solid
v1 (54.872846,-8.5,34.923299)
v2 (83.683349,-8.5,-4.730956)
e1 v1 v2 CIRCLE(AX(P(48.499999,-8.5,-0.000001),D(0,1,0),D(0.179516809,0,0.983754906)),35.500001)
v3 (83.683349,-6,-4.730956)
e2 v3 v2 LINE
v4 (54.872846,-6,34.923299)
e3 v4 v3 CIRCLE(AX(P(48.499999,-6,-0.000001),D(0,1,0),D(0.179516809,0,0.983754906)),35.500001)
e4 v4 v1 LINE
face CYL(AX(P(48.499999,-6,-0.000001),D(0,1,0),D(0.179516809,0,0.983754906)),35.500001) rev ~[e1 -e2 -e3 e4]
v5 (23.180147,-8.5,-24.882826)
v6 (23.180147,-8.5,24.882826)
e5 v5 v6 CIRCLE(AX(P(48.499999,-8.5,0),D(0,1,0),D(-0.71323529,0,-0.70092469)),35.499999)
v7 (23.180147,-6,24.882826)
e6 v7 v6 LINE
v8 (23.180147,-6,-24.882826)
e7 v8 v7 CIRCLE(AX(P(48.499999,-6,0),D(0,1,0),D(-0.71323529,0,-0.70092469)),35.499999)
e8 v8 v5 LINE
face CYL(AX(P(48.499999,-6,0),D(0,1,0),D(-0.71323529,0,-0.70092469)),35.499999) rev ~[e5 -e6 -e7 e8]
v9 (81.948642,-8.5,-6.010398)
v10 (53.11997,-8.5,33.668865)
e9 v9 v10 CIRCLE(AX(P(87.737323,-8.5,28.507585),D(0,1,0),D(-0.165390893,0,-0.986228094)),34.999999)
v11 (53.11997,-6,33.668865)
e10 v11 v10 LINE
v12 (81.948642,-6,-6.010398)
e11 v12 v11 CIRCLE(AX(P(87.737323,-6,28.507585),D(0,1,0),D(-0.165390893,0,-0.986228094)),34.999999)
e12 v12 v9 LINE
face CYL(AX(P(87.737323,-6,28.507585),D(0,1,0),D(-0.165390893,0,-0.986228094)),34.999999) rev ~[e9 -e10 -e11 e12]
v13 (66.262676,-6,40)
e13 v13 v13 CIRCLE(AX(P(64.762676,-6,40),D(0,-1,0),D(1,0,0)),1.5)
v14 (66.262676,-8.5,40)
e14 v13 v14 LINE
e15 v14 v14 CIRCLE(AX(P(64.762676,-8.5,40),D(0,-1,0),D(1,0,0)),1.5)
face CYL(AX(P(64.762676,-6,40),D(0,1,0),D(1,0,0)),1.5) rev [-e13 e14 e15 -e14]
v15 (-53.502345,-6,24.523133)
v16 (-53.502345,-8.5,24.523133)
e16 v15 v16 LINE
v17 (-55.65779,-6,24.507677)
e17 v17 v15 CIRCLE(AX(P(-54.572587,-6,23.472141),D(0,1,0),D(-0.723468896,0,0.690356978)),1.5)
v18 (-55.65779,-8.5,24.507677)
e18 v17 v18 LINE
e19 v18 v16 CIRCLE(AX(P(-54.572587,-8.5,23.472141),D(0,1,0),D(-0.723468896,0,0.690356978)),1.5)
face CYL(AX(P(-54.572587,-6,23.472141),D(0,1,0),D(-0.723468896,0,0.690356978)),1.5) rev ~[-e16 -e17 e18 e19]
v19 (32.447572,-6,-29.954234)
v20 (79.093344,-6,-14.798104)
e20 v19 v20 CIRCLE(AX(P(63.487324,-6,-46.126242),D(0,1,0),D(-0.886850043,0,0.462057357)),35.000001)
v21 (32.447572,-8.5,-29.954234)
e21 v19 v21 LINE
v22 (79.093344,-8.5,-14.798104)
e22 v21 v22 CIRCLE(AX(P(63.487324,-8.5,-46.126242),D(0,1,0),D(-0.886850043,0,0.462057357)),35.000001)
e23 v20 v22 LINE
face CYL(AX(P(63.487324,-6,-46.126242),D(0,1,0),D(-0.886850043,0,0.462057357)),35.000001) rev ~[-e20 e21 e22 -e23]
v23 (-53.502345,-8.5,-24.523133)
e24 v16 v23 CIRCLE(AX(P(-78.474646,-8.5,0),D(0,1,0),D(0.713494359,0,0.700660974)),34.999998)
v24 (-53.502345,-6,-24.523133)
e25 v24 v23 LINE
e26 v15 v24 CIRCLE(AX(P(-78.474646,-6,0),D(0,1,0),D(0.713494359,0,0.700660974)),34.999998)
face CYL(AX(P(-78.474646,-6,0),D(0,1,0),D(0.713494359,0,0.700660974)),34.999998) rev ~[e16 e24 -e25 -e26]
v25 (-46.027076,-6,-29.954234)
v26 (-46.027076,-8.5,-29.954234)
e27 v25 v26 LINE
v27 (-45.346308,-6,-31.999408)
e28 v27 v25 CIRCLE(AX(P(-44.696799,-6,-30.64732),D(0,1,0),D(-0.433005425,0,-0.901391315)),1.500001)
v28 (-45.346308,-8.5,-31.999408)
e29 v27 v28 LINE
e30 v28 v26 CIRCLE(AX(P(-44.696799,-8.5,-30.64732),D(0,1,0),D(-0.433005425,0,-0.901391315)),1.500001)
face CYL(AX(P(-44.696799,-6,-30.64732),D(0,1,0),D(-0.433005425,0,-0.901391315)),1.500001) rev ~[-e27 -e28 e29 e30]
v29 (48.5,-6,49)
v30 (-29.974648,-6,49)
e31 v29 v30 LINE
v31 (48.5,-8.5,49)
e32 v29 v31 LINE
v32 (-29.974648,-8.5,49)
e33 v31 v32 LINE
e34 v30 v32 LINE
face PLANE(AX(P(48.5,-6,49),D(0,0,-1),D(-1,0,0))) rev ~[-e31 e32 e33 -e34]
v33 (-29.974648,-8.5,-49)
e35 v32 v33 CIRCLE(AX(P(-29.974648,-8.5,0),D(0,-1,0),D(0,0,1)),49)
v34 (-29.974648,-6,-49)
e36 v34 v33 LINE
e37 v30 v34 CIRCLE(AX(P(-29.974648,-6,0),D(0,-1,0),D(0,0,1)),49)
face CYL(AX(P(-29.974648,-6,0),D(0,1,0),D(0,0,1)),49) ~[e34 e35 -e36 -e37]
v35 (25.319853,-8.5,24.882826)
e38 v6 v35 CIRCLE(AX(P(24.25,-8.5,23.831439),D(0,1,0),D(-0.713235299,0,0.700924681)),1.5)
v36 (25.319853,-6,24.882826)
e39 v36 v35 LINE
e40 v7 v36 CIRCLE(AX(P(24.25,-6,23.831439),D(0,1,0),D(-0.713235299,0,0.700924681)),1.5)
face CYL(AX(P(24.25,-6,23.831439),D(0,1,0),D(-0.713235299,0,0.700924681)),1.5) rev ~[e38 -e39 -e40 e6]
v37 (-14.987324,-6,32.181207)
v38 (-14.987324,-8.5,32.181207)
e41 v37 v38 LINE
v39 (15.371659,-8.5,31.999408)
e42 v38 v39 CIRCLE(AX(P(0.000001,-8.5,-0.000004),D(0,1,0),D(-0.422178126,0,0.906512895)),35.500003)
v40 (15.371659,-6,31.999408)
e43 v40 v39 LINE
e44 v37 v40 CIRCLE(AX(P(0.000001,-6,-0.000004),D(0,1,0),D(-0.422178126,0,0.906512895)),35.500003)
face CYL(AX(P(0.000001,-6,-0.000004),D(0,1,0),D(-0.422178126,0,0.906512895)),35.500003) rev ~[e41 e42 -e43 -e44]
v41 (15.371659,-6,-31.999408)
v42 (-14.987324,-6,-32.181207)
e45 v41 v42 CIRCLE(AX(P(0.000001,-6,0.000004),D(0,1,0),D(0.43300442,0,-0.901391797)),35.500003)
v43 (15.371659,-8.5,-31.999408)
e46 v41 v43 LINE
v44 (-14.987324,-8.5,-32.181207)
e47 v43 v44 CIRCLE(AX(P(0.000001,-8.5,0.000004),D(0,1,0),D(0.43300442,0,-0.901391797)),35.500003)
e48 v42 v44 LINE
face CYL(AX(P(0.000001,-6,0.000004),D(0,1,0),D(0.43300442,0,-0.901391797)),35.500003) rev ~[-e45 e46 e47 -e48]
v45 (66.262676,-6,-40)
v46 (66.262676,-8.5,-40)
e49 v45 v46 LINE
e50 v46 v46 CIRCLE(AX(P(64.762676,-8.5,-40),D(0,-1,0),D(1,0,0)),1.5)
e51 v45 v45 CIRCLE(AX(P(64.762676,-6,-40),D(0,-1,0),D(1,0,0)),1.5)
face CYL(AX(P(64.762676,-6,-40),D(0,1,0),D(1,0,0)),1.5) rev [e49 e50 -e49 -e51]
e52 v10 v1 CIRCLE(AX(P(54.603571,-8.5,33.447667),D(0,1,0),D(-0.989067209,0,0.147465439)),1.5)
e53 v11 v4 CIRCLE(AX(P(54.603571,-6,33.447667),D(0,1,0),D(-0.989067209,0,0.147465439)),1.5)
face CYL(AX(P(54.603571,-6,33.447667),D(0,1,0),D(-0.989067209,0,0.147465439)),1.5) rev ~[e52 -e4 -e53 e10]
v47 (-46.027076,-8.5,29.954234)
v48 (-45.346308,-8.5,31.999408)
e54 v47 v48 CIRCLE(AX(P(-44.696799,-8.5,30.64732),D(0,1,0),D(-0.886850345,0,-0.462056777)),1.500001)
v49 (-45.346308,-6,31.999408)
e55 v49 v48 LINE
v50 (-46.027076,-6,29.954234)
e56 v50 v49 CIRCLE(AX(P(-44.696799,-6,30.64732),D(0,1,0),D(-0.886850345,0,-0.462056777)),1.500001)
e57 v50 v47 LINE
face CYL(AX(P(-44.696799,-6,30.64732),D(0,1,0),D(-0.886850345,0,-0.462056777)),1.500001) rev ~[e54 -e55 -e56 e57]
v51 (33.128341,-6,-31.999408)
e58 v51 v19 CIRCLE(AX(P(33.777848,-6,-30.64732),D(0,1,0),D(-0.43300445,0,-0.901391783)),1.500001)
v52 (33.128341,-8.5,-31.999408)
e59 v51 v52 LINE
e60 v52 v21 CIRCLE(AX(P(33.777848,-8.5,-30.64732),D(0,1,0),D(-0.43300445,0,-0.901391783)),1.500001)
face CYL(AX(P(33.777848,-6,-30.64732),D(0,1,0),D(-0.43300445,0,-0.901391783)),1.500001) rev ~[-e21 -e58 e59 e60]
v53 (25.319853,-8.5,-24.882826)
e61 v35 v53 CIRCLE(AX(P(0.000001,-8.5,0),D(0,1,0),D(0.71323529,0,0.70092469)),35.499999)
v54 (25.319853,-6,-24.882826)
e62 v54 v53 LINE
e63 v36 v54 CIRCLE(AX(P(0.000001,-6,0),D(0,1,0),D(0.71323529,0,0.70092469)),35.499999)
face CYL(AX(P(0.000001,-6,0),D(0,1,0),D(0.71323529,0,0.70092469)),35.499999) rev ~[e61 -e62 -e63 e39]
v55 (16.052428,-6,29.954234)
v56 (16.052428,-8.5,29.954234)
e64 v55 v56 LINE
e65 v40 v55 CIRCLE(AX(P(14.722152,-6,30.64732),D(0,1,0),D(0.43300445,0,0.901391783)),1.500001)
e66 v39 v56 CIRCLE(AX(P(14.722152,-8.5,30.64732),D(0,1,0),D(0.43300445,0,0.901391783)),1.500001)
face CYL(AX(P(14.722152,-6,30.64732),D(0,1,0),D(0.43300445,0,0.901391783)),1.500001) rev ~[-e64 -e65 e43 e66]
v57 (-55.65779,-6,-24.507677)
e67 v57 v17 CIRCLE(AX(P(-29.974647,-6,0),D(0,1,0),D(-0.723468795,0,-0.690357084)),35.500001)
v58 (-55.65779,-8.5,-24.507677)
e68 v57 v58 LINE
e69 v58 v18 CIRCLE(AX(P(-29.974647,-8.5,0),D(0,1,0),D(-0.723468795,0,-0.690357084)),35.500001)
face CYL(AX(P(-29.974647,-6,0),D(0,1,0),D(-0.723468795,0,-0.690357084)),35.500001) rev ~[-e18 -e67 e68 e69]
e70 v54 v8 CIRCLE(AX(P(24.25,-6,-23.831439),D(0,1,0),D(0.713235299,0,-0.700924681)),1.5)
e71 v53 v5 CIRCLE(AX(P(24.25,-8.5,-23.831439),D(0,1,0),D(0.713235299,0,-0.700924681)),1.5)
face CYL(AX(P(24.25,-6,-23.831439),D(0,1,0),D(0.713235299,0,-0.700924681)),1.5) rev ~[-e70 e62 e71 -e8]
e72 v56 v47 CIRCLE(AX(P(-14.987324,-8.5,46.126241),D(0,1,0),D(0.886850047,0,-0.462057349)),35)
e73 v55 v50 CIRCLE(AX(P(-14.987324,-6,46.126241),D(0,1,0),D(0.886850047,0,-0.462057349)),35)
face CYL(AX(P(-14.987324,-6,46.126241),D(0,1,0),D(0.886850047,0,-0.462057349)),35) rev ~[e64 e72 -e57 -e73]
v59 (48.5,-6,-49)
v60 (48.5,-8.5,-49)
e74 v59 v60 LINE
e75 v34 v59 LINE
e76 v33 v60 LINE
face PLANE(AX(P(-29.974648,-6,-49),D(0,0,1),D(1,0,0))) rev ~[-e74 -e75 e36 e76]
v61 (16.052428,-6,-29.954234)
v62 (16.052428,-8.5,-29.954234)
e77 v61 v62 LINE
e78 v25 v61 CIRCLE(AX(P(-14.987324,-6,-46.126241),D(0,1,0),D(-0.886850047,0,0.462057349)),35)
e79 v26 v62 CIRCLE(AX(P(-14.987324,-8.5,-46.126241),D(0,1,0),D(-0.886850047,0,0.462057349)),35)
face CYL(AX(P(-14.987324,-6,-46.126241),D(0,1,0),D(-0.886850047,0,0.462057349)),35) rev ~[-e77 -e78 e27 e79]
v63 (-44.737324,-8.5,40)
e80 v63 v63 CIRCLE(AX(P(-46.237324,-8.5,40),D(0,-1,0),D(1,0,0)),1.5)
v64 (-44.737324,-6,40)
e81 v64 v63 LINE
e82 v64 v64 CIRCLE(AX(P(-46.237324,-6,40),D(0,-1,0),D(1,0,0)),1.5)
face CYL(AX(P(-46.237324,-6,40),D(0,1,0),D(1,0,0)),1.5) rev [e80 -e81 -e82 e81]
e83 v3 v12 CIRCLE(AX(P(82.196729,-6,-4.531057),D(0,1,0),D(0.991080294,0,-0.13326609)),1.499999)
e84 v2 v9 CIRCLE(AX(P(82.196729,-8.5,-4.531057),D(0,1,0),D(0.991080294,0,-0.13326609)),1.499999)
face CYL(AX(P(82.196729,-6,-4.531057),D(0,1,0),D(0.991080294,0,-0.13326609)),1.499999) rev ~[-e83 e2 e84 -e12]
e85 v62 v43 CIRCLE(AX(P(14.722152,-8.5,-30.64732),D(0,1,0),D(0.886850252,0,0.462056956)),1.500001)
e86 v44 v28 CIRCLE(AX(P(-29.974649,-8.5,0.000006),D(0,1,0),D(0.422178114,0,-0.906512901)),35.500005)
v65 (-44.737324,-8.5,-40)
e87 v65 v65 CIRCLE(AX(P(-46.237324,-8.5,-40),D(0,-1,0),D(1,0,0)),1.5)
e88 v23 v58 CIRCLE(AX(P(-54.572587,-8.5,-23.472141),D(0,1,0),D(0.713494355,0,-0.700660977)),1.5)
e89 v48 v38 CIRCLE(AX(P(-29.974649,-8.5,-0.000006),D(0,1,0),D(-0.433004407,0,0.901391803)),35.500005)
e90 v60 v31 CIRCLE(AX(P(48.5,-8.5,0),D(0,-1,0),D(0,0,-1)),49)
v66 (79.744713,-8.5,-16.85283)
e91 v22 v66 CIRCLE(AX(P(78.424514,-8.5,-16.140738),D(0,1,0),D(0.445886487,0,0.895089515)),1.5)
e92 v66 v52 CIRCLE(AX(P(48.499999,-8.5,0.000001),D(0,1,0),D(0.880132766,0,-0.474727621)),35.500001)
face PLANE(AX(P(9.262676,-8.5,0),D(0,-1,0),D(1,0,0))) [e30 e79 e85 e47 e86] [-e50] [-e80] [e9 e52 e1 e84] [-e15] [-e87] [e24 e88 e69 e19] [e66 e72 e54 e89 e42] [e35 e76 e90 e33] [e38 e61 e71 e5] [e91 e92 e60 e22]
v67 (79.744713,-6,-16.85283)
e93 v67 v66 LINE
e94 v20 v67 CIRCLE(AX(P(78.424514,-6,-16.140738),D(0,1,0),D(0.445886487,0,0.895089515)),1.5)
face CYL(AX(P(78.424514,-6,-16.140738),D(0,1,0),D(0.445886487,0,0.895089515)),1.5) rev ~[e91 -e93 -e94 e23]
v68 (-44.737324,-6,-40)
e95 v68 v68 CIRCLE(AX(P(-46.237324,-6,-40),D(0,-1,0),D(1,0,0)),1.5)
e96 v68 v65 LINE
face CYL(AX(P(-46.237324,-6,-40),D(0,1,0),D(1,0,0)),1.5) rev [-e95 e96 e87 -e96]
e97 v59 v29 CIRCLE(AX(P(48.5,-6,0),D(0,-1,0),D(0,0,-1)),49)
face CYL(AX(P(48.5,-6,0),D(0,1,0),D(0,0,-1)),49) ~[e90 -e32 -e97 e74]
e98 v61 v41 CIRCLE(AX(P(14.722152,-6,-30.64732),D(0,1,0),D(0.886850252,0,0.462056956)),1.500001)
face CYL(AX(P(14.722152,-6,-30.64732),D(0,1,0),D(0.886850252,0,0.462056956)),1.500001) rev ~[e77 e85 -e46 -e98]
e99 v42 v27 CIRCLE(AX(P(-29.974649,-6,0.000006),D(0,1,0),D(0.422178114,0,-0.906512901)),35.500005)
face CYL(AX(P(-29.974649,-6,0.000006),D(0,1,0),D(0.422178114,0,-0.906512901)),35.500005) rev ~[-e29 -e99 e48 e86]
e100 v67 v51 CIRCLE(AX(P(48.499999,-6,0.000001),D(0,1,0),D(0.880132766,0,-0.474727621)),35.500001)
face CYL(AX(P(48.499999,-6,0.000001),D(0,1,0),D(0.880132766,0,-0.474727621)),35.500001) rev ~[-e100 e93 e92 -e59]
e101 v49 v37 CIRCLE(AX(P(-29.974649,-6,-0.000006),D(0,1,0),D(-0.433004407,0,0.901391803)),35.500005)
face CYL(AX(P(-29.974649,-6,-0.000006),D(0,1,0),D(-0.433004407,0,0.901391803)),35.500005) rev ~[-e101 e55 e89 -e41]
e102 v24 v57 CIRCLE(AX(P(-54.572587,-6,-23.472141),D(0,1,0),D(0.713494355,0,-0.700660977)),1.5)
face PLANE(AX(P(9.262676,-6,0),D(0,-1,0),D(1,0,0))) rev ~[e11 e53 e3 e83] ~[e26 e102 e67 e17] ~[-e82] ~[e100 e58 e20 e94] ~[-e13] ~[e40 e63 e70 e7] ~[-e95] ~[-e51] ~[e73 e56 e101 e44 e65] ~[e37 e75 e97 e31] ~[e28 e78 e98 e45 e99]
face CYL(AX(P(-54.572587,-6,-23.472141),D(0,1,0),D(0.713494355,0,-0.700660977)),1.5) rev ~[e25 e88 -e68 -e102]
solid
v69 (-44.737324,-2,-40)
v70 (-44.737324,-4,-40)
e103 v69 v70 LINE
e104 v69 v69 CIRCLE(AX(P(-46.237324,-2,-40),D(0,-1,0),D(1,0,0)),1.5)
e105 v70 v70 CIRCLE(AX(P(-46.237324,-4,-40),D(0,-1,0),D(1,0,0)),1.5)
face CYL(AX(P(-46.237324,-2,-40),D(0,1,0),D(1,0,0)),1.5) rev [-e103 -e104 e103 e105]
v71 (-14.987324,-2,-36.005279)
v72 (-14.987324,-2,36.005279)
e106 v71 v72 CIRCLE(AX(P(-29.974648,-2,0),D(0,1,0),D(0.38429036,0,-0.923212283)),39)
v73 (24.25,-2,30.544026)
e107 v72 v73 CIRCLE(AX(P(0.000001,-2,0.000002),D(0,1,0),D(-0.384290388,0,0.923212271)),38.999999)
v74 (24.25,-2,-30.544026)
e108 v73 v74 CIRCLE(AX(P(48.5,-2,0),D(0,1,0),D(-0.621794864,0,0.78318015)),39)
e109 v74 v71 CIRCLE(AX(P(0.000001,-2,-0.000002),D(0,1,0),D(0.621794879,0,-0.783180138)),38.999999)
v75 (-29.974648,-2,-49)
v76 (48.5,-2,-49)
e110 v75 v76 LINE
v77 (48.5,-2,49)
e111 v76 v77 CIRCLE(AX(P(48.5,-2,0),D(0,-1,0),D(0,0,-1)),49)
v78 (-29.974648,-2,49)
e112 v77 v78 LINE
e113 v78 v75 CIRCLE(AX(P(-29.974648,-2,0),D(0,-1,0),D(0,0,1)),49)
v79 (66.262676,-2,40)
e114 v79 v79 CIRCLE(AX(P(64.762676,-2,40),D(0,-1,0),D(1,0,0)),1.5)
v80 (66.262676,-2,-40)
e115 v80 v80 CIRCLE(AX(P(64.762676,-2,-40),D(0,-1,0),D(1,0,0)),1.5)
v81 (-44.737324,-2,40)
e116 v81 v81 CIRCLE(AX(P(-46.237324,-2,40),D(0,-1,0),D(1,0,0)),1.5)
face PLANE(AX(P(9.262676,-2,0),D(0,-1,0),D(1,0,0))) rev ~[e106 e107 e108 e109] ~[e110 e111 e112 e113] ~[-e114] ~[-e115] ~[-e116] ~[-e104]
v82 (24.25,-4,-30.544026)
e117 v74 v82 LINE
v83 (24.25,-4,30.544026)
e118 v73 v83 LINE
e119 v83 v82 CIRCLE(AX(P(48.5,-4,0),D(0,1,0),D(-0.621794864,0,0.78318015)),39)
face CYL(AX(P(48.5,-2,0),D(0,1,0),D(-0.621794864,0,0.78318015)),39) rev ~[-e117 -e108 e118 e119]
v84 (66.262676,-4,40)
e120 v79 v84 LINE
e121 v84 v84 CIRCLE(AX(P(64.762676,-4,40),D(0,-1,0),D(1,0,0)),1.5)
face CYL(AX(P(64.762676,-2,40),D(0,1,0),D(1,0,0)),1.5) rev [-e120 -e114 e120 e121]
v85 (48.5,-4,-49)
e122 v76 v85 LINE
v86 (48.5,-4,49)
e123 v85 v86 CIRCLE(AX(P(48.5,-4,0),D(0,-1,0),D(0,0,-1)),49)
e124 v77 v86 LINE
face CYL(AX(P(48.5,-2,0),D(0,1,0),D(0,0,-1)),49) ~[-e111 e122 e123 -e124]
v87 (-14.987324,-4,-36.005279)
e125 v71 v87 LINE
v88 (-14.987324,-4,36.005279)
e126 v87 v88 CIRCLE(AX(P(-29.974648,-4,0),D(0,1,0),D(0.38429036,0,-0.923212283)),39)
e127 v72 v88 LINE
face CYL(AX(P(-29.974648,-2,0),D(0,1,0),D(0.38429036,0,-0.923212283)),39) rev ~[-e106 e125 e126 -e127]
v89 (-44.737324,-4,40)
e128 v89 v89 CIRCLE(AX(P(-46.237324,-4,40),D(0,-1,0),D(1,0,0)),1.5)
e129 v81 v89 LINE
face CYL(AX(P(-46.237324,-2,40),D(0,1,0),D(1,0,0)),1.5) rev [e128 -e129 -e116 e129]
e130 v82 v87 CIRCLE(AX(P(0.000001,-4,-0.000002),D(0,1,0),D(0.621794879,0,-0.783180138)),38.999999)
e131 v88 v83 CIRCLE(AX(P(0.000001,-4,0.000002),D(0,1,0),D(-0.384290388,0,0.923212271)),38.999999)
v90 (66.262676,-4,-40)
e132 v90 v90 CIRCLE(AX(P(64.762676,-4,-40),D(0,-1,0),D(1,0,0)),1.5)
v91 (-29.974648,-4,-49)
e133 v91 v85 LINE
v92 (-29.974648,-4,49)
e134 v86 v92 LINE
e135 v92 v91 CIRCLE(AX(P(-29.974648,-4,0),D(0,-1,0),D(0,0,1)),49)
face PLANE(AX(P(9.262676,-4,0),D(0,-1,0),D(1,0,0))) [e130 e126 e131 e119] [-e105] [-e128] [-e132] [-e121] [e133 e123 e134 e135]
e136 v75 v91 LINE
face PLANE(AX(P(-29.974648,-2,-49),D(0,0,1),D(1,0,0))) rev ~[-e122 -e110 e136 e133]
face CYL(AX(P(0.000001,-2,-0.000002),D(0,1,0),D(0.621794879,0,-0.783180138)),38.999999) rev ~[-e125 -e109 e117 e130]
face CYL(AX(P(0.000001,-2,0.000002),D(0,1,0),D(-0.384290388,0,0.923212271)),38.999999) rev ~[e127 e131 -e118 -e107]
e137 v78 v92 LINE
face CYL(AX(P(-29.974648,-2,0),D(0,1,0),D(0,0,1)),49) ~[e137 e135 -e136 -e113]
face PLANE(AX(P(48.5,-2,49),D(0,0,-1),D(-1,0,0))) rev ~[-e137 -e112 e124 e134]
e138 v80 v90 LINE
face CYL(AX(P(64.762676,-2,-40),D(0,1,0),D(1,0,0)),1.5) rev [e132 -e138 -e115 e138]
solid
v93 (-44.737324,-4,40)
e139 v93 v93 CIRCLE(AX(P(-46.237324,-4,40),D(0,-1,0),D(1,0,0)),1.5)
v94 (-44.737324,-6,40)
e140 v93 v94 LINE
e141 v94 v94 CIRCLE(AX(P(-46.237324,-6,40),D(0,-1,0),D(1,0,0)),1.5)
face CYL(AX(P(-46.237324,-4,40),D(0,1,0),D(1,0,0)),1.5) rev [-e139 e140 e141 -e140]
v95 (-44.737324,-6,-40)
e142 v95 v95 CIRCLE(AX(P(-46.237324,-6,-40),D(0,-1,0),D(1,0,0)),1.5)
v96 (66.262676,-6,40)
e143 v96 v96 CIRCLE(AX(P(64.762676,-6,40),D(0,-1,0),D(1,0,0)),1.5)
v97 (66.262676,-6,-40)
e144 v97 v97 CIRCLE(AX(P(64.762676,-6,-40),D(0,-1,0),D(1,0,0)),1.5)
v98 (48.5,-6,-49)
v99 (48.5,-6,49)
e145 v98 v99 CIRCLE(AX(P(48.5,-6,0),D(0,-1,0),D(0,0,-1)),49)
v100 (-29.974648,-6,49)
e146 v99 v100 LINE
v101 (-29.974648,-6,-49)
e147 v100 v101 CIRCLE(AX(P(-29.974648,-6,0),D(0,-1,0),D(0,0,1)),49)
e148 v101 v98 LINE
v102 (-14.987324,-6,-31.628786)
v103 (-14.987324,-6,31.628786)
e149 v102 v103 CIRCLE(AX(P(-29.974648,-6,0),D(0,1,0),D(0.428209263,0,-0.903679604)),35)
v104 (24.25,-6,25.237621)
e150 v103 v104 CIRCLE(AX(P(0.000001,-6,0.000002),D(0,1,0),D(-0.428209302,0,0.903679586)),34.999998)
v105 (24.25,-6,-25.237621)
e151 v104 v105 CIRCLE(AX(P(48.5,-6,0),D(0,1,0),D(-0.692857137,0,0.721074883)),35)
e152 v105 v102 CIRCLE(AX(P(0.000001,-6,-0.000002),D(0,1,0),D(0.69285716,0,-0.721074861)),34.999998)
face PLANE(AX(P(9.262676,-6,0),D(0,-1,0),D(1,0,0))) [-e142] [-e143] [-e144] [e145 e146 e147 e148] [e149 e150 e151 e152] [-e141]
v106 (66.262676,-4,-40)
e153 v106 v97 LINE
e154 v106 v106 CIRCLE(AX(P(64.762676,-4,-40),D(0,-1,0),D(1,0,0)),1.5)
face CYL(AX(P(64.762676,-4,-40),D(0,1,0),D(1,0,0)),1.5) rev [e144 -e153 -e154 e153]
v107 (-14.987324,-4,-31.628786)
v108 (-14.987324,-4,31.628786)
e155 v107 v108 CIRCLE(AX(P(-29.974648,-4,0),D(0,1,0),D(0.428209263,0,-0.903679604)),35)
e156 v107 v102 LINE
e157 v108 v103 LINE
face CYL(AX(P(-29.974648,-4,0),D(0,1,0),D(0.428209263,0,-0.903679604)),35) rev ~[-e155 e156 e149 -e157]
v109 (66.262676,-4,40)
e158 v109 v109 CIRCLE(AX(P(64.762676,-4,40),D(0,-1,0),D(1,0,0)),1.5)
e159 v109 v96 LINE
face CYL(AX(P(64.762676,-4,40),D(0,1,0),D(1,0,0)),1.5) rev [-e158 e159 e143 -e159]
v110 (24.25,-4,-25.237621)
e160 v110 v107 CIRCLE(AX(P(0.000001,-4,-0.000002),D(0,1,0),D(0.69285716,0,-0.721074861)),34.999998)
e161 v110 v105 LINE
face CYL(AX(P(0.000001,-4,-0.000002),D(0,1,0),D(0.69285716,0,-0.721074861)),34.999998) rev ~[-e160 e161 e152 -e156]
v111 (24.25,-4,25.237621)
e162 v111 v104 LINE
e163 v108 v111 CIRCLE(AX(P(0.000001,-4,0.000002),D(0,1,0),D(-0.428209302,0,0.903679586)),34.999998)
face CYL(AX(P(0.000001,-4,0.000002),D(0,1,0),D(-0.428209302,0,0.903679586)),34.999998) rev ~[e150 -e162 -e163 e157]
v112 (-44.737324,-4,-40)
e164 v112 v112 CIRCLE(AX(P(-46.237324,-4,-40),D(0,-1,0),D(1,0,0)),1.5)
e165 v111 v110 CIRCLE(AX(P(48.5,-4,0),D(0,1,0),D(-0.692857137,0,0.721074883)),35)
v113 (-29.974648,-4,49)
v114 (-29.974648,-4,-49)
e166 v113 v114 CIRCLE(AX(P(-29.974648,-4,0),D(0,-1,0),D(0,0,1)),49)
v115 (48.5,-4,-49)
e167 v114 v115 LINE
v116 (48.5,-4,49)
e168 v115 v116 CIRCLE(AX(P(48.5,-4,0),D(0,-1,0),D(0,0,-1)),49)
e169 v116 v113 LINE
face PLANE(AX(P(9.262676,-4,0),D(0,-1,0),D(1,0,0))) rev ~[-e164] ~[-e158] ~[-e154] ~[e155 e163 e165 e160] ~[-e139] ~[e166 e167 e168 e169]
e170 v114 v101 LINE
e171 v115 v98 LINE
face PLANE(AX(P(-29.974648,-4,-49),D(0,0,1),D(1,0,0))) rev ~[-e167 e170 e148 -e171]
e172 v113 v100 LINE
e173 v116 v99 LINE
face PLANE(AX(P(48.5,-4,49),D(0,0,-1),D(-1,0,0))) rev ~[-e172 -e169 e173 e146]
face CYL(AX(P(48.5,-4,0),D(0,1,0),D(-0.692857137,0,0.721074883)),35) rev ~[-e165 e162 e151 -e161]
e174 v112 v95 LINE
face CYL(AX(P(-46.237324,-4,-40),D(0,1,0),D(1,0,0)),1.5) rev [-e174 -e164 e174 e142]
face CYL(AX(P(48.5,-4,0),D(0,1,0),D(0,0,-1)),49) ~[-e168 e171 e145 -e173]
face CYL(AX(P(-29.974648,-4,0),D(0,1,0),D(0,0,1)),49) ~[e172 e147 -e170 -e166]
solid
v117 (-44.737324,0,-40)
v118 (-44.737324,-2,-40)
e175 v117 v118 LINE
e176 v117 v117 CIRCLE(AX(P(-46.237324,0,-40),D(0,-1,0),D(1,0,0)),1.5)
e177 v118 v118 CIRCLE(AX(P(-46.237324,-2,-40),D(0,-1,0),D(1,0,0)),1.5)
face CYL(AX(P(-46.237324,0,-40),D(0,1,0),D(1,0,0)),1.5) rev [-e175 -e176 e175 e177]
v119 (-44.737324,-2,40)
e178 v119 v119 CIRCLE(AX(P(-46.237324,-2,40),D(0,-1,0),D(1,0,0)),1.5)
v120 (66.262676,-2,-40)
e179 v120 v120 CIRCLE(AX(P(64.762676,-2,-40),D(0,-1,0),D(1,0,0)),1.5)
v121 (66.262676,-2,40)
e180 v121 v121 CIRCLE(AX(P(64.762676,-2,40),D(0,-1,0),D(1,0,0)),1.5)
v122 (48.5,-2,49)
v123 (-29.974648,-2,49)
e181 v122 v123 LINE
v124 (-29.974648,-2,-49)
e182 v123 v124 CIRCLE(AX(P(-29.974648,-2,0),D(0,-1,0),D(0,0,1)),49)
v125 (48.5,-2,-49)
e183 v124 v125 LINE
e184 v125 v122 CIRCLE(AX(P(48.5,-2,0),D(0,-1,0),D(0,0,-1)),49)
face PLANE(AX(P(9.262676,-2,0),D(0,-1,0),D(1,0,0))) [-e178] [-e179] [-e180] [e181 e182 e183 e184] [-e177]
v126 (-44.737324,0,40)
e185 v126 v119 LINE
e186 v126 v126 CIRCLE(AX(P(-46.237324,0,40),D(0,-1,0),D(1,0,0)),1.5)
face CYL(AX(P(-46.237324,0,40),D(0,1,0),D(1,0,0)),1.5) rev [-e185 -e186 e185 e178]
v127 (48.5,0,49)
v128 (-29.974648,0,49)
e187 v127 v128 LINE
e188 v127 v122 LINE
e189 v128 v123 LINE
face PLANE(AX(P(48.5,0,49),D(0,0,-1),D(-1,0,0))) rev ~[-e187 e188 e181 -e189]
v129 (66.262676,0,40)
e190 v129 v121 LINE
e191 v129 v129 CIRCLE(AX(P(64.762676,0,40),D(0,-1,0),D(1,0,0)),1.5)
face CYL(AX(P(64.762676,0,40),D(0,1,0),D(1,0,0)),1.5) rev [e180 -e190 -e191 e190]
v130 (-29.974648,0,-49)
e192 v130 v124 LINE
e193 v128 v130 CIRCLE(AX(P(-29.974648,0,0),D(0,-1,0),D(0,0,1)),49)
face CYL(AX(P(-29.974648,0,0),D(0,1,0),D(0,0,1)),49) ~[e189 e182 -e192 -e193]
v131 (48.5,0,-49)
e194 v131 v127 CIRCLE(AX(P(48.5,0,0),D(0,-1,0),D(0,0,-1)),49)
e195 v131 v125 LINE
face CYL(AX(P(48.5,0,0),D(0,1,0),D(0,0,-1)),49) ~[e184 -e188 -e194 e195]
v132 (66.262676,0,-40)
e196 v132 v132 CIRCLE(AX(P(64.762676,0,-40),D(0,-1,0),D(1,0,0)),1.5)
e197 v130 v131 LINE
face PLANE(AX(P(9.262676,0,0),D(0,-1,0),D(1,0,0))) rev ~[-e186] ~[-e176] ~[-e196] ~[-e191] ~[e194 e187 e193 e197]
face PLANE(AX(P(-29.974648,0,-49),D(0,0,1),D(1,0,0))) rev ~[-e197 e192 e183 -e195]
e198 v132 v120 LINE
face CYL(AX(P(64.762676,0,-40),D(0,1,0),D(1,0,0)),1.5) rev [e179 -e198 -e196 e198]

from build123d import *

# Parameters (mm, degrees)
F2_R     = 1.5
F3_DEPTH = 2
F4_R     = 1.5
F5_DEPTH = 2
F6_R     = 1.5
F7_DEPTH = 2
F8_R     = 1.5
F9_DEPTH = 2.5


with BuildPart() as f3:
    # F2 (on Front) → F3 (new body)
    with BuildSketch(Plane.XZ):
        with BuildLine():
            Line((48.5, 49), (-29.974648, 49))
            ThreePointArc((-29.974648, 49), (-78.974648, 0), (-29.974648, -49))
            Line((-29.974648, -49), (48.5, -49))
            ThreePointArc((48.5, -49), (97.5, 0), (48.5, 49))
        make_face()
        with Locations((-46.237324, -40)):
            Circle(F2_R, mode=Mode.SUBTRACT)
        with BuildLine():
            ThreePointArc((24.25, 25.237621), (83.5, 0), (24.25, -25.237621))
            ThreePointArc((24.25, -25.237621), (5.626814, -34.544739), (-14.987324, -31.628786))
            ThreePointArc((-14.987324, -31.628786), (-64.974648, 0), (-14.987324, 31.628786))
            ThreePointArc((-14.987324, 31.628786), (5.626814, 34.544739), (24.25, 25.237621))
        make_face(mode=Mode.SUBTRACT)
        with Locations((64.762676, -40)):
            Circle(F2_R, mode=Mode.SUBTRACT)
        with Locations((-46.237324, 40)):
            Circle(F2_R, mode=Mode.SUBTRACT)
        with Locations((64.762676, 40)):
            Circle(F2_R, mode=Mode.SUBTRACT)
        with BuildLine():
            ThreePointArc((-14.987324, -31.628786), (5.626814, -34.544739), (24.25, -25.237621))
            ThreePointArc((24.25, -25.237621), (83.5, 0), (24.25, 25.237621))
            ThreePointArc((24.25, 25.237621), (5.626814, 34.544739), (-14.987324, 31.628786))
            ThreePointArc((-14.987324, 31.628786), (-64.974648, 0), (-14.987324, -31.628786))
        make_face()
    extrude(amount=F3_DEPTH)


with BuildPart() as f5:
    # F4 (on face) → F5 (new body)
    with BuildSketch(Plane.XZ.offset(2)):
        with BuildLine():
            Line((48.5, 49), (-29.974648, 49))
            ThreePointArc((-29.974648, 49), (-78.974648, 0), (-29.974648, -49))
            Line((-29.974648, -49), (48.5, -49))
            ThreePointArc((48.5, -49), (97.5, 0), (48.5, 49))
        make_face()
        with Locations((-46.237324, -40)):
            Circle(F4_R, mode=Mode.SUBTRACT)
        with Locations((64.762676, -40)):
            Circle(F4_R, mode=Mode.SUBTRACT)
        with BuildLine():
            ThreePointArc((-14.987324, -36.005279), (-68.974648, 0), (-14.987324, 36.005279))
            ThreePointArc((-14.987324, 36.005279), (5.376394, 38.627638), (24.25, 30.544026))
            ThreePointArc((24.25, 30.544026), (87.5, 0), (24.25, -30.544026))
            ThreePointArc((24.25, -30.544026), (5.376394, -38.627638), (-14.987324, -36.005279))
        make_face(mode=Mode.SUBTRACT)
        with Locations((-46.237324, 40)):
            Circle(F4_R, mode=Mode.SUBTRACT)
        with Locations((64.762676, 40)):
            Circle(F4_R, mode=Mode.SUBTRACT)
    extrude(amount=F5_DEPTH)


with BuildPart() as f7:
    # F6 (on face) → F7 (new body)
    with BuildSketch(Plane.XZ.offset(4)):
        with BuildLine():
            Line((48.5, 49), (-29.974648, 49))
            ThreePointArc((-29.974648, 49), (-78.974648, 0), (-29.974648, -49))
            Line((-29.974648, -49), (48.5, -49))
            ThreePointArc((48.5, -49), (97.5, 0), (48.5, 49))
        make_face()
        with Locations((-46.237324, -40)):
            Circle(F6_R, mode=Mode.SUBTRACT)
        with BuildLine():
            ThreePointArc((24.25, 25.237621), (83.5, 0), (24.25, -25.237621))
            ThreePointArc((24.25, -25.237621), (5.626814, -34.544739), (-14.987324, -31.628786))
            ThreePointArc((-14.987324, -31.628786), (-64.974648, 0), (-14.987324, 31.628786))
            ThreePointArc((-14.987324, 31.628786), (5.626814, 34.544739), (24.25, 25.237621))
        make_face(mode=Mode.SUBTRACT)
        with Locations((64.762676, -40)):
            Circle(F6_R, mode=Mode.SUBTRACT)
        with Locations((-46.237324, 40)):
            Circle(F6_R, mode=Mode.SUBTRACT)
        with Locations((64.762676, 40)):
            Circle(F6_R, mode=Mode.SUBTRACT)
    extrude(amount=F7_DEPTH)


with BuildPart() as f9:
    # F8 (on face) → F9 (new body)
    with BuildSketch(Plane.XZ.offset(6)):
        with BuildLine():
            Line((48.5, 49), (-29.974648, 49))
            ThreePointArc((-29.974648, 49), (-78.974648, 0), (-29.974648, -49))
            Line((-29.974648, -49), (48.5, -49))
            ThreePointArc((48.5, -49), (97.5, 0), (48.5, 49))
        make_face()
        with Locations((-46.237324, -40)):
            Circle(F8_R, mode=Mode.SUBTRACT)
        with BuildLine():
            ThreePointArc((-55.65779, 24.507677), (-54.583342, 24.972103), (-53.502345, 24.523133))
            ThreePointArc((-53.502345, 24.523133), (-43.474648, 0), (-53.502345, -24.523133))
            ThreePointArc((-53.502345, -24.523133), (-54.583342, -24.972103), (-55.65779, -24.507677))
            ThreePointArc((-55.65779, -24.507677), (-65.474648, 0), (-55.65779, 24.507677))
        make_face(mode=Mode.SUBTRACT)
        with BuildLine():
            ThreePointArc((15.371659, -31.999408), (0.212582, -35.499363), (-14.987324, -32.181207))
            ThreePointArc((-14.987324, -32.181207), (-30.187231, -35.499363), (-45.346308, -31.999408))
            ThreePointArc((-45.346308, -31.999408), (-46.120025, -31.121063), (-46.027076, -29.954234))
            ThreePointArc((-46.027076, -29.954234), (-14.987324, -11.126241), (16.052428, -29.954234))
            ThreePointArc((16.052428, -29.954234), (16.145377, -31.121063), (15.371659, -31.999408))
        make_face(mode=Mode.SUBTRACT)
        with Locations((64.762676, -40)):
            Circle(F8_R, mode=Mode.SUBTRACT)
        with BuildLine():
            ThreePointArc((23.180147, 24.882826), (24.25, 25.331439), (25.319853, 24.882826))
            ThreePointArc((25.319853, 24.882826), (35.5, 0), (25.319853, -24.882826))
            ThreePointArc((25.319853, -24.882826), (24.25, -25.331439), (23.180147, -24.882826))
            ThreePointArc((23.180147, -24.882826), (13, 0), (23.180147, 24.882826))
        make_face(mode=Mode.SUBTRACT)
        with BuildLine():
            ThreePointArc((79.744713, -16.85283), (59.470103, -33.762506), (33.128341, -31.999408))
            ThreePointArc((33.128341, -31.999408), (32.354623, -31.121063), (32.447572, -29.954234))
            ThreePointArc((32.447572, -29.954234), (52.671729, -12.839263), (79.093344, -14.798104))
            ThreePointArc((79.093344, -14.798104), (79.854386, -15.687454), (79.744713, -16.85283))
        make_face(mode=Mode.SUBTRACT)
        with BuildLine():
            ThreePointArc((-45.346308, 31.999408), (-30.187231, 35.499363), (-14.987324, 32.181207))
            ThreePointArc((-14.987324, 32.181207), (0.212582, 35.499363), (15.371659, 31.999408))
            ThreePointArc((15.371659, 31.999408), (16.145377, 31.121063), (16.052428, 29.954234))
            ThreePointArc((16.052428, 29.954234), (-14.987324, 11.126241), (-46.027076, 29.954234))
            ThreePointArc((-46.027076, 29.954234), (-46.120025, 31.121063), (-45.346308, 31.999408))
        make_face(mode=Mode.SUBTRACT)
        with Locations((-46.237324, 40)):
            Circle(F8_R, mode=Mode.SUBTRACT)
        with BuildLine():
            ThreePointArc((83.683349, -4.730956), (83.087085, -5.738229), (81.948642, -6.010398))
            ThreePointArc((81.948642, -6.010398), (59.421729, 7.935101), (53.11997, 33.668865))
            ThreePointArc((53.11997, 33.668865), (53.730617, 34.667483), (54.872846, 34.923299))
            ThreePointArc((54.872846, 34.923299), (77.220103, 20.866376), (83.683349, -4.730956))
        make_face(mode=Mode.SUBTRACT)
        with Locations((64.762676, 40)):
            Circle(F8_R, mode=Mode.SUBTRACT)
    extrude(amount=F9_DEPTH)


solid = Compound([f3.part, f5.part, f7.part, f9.part])
